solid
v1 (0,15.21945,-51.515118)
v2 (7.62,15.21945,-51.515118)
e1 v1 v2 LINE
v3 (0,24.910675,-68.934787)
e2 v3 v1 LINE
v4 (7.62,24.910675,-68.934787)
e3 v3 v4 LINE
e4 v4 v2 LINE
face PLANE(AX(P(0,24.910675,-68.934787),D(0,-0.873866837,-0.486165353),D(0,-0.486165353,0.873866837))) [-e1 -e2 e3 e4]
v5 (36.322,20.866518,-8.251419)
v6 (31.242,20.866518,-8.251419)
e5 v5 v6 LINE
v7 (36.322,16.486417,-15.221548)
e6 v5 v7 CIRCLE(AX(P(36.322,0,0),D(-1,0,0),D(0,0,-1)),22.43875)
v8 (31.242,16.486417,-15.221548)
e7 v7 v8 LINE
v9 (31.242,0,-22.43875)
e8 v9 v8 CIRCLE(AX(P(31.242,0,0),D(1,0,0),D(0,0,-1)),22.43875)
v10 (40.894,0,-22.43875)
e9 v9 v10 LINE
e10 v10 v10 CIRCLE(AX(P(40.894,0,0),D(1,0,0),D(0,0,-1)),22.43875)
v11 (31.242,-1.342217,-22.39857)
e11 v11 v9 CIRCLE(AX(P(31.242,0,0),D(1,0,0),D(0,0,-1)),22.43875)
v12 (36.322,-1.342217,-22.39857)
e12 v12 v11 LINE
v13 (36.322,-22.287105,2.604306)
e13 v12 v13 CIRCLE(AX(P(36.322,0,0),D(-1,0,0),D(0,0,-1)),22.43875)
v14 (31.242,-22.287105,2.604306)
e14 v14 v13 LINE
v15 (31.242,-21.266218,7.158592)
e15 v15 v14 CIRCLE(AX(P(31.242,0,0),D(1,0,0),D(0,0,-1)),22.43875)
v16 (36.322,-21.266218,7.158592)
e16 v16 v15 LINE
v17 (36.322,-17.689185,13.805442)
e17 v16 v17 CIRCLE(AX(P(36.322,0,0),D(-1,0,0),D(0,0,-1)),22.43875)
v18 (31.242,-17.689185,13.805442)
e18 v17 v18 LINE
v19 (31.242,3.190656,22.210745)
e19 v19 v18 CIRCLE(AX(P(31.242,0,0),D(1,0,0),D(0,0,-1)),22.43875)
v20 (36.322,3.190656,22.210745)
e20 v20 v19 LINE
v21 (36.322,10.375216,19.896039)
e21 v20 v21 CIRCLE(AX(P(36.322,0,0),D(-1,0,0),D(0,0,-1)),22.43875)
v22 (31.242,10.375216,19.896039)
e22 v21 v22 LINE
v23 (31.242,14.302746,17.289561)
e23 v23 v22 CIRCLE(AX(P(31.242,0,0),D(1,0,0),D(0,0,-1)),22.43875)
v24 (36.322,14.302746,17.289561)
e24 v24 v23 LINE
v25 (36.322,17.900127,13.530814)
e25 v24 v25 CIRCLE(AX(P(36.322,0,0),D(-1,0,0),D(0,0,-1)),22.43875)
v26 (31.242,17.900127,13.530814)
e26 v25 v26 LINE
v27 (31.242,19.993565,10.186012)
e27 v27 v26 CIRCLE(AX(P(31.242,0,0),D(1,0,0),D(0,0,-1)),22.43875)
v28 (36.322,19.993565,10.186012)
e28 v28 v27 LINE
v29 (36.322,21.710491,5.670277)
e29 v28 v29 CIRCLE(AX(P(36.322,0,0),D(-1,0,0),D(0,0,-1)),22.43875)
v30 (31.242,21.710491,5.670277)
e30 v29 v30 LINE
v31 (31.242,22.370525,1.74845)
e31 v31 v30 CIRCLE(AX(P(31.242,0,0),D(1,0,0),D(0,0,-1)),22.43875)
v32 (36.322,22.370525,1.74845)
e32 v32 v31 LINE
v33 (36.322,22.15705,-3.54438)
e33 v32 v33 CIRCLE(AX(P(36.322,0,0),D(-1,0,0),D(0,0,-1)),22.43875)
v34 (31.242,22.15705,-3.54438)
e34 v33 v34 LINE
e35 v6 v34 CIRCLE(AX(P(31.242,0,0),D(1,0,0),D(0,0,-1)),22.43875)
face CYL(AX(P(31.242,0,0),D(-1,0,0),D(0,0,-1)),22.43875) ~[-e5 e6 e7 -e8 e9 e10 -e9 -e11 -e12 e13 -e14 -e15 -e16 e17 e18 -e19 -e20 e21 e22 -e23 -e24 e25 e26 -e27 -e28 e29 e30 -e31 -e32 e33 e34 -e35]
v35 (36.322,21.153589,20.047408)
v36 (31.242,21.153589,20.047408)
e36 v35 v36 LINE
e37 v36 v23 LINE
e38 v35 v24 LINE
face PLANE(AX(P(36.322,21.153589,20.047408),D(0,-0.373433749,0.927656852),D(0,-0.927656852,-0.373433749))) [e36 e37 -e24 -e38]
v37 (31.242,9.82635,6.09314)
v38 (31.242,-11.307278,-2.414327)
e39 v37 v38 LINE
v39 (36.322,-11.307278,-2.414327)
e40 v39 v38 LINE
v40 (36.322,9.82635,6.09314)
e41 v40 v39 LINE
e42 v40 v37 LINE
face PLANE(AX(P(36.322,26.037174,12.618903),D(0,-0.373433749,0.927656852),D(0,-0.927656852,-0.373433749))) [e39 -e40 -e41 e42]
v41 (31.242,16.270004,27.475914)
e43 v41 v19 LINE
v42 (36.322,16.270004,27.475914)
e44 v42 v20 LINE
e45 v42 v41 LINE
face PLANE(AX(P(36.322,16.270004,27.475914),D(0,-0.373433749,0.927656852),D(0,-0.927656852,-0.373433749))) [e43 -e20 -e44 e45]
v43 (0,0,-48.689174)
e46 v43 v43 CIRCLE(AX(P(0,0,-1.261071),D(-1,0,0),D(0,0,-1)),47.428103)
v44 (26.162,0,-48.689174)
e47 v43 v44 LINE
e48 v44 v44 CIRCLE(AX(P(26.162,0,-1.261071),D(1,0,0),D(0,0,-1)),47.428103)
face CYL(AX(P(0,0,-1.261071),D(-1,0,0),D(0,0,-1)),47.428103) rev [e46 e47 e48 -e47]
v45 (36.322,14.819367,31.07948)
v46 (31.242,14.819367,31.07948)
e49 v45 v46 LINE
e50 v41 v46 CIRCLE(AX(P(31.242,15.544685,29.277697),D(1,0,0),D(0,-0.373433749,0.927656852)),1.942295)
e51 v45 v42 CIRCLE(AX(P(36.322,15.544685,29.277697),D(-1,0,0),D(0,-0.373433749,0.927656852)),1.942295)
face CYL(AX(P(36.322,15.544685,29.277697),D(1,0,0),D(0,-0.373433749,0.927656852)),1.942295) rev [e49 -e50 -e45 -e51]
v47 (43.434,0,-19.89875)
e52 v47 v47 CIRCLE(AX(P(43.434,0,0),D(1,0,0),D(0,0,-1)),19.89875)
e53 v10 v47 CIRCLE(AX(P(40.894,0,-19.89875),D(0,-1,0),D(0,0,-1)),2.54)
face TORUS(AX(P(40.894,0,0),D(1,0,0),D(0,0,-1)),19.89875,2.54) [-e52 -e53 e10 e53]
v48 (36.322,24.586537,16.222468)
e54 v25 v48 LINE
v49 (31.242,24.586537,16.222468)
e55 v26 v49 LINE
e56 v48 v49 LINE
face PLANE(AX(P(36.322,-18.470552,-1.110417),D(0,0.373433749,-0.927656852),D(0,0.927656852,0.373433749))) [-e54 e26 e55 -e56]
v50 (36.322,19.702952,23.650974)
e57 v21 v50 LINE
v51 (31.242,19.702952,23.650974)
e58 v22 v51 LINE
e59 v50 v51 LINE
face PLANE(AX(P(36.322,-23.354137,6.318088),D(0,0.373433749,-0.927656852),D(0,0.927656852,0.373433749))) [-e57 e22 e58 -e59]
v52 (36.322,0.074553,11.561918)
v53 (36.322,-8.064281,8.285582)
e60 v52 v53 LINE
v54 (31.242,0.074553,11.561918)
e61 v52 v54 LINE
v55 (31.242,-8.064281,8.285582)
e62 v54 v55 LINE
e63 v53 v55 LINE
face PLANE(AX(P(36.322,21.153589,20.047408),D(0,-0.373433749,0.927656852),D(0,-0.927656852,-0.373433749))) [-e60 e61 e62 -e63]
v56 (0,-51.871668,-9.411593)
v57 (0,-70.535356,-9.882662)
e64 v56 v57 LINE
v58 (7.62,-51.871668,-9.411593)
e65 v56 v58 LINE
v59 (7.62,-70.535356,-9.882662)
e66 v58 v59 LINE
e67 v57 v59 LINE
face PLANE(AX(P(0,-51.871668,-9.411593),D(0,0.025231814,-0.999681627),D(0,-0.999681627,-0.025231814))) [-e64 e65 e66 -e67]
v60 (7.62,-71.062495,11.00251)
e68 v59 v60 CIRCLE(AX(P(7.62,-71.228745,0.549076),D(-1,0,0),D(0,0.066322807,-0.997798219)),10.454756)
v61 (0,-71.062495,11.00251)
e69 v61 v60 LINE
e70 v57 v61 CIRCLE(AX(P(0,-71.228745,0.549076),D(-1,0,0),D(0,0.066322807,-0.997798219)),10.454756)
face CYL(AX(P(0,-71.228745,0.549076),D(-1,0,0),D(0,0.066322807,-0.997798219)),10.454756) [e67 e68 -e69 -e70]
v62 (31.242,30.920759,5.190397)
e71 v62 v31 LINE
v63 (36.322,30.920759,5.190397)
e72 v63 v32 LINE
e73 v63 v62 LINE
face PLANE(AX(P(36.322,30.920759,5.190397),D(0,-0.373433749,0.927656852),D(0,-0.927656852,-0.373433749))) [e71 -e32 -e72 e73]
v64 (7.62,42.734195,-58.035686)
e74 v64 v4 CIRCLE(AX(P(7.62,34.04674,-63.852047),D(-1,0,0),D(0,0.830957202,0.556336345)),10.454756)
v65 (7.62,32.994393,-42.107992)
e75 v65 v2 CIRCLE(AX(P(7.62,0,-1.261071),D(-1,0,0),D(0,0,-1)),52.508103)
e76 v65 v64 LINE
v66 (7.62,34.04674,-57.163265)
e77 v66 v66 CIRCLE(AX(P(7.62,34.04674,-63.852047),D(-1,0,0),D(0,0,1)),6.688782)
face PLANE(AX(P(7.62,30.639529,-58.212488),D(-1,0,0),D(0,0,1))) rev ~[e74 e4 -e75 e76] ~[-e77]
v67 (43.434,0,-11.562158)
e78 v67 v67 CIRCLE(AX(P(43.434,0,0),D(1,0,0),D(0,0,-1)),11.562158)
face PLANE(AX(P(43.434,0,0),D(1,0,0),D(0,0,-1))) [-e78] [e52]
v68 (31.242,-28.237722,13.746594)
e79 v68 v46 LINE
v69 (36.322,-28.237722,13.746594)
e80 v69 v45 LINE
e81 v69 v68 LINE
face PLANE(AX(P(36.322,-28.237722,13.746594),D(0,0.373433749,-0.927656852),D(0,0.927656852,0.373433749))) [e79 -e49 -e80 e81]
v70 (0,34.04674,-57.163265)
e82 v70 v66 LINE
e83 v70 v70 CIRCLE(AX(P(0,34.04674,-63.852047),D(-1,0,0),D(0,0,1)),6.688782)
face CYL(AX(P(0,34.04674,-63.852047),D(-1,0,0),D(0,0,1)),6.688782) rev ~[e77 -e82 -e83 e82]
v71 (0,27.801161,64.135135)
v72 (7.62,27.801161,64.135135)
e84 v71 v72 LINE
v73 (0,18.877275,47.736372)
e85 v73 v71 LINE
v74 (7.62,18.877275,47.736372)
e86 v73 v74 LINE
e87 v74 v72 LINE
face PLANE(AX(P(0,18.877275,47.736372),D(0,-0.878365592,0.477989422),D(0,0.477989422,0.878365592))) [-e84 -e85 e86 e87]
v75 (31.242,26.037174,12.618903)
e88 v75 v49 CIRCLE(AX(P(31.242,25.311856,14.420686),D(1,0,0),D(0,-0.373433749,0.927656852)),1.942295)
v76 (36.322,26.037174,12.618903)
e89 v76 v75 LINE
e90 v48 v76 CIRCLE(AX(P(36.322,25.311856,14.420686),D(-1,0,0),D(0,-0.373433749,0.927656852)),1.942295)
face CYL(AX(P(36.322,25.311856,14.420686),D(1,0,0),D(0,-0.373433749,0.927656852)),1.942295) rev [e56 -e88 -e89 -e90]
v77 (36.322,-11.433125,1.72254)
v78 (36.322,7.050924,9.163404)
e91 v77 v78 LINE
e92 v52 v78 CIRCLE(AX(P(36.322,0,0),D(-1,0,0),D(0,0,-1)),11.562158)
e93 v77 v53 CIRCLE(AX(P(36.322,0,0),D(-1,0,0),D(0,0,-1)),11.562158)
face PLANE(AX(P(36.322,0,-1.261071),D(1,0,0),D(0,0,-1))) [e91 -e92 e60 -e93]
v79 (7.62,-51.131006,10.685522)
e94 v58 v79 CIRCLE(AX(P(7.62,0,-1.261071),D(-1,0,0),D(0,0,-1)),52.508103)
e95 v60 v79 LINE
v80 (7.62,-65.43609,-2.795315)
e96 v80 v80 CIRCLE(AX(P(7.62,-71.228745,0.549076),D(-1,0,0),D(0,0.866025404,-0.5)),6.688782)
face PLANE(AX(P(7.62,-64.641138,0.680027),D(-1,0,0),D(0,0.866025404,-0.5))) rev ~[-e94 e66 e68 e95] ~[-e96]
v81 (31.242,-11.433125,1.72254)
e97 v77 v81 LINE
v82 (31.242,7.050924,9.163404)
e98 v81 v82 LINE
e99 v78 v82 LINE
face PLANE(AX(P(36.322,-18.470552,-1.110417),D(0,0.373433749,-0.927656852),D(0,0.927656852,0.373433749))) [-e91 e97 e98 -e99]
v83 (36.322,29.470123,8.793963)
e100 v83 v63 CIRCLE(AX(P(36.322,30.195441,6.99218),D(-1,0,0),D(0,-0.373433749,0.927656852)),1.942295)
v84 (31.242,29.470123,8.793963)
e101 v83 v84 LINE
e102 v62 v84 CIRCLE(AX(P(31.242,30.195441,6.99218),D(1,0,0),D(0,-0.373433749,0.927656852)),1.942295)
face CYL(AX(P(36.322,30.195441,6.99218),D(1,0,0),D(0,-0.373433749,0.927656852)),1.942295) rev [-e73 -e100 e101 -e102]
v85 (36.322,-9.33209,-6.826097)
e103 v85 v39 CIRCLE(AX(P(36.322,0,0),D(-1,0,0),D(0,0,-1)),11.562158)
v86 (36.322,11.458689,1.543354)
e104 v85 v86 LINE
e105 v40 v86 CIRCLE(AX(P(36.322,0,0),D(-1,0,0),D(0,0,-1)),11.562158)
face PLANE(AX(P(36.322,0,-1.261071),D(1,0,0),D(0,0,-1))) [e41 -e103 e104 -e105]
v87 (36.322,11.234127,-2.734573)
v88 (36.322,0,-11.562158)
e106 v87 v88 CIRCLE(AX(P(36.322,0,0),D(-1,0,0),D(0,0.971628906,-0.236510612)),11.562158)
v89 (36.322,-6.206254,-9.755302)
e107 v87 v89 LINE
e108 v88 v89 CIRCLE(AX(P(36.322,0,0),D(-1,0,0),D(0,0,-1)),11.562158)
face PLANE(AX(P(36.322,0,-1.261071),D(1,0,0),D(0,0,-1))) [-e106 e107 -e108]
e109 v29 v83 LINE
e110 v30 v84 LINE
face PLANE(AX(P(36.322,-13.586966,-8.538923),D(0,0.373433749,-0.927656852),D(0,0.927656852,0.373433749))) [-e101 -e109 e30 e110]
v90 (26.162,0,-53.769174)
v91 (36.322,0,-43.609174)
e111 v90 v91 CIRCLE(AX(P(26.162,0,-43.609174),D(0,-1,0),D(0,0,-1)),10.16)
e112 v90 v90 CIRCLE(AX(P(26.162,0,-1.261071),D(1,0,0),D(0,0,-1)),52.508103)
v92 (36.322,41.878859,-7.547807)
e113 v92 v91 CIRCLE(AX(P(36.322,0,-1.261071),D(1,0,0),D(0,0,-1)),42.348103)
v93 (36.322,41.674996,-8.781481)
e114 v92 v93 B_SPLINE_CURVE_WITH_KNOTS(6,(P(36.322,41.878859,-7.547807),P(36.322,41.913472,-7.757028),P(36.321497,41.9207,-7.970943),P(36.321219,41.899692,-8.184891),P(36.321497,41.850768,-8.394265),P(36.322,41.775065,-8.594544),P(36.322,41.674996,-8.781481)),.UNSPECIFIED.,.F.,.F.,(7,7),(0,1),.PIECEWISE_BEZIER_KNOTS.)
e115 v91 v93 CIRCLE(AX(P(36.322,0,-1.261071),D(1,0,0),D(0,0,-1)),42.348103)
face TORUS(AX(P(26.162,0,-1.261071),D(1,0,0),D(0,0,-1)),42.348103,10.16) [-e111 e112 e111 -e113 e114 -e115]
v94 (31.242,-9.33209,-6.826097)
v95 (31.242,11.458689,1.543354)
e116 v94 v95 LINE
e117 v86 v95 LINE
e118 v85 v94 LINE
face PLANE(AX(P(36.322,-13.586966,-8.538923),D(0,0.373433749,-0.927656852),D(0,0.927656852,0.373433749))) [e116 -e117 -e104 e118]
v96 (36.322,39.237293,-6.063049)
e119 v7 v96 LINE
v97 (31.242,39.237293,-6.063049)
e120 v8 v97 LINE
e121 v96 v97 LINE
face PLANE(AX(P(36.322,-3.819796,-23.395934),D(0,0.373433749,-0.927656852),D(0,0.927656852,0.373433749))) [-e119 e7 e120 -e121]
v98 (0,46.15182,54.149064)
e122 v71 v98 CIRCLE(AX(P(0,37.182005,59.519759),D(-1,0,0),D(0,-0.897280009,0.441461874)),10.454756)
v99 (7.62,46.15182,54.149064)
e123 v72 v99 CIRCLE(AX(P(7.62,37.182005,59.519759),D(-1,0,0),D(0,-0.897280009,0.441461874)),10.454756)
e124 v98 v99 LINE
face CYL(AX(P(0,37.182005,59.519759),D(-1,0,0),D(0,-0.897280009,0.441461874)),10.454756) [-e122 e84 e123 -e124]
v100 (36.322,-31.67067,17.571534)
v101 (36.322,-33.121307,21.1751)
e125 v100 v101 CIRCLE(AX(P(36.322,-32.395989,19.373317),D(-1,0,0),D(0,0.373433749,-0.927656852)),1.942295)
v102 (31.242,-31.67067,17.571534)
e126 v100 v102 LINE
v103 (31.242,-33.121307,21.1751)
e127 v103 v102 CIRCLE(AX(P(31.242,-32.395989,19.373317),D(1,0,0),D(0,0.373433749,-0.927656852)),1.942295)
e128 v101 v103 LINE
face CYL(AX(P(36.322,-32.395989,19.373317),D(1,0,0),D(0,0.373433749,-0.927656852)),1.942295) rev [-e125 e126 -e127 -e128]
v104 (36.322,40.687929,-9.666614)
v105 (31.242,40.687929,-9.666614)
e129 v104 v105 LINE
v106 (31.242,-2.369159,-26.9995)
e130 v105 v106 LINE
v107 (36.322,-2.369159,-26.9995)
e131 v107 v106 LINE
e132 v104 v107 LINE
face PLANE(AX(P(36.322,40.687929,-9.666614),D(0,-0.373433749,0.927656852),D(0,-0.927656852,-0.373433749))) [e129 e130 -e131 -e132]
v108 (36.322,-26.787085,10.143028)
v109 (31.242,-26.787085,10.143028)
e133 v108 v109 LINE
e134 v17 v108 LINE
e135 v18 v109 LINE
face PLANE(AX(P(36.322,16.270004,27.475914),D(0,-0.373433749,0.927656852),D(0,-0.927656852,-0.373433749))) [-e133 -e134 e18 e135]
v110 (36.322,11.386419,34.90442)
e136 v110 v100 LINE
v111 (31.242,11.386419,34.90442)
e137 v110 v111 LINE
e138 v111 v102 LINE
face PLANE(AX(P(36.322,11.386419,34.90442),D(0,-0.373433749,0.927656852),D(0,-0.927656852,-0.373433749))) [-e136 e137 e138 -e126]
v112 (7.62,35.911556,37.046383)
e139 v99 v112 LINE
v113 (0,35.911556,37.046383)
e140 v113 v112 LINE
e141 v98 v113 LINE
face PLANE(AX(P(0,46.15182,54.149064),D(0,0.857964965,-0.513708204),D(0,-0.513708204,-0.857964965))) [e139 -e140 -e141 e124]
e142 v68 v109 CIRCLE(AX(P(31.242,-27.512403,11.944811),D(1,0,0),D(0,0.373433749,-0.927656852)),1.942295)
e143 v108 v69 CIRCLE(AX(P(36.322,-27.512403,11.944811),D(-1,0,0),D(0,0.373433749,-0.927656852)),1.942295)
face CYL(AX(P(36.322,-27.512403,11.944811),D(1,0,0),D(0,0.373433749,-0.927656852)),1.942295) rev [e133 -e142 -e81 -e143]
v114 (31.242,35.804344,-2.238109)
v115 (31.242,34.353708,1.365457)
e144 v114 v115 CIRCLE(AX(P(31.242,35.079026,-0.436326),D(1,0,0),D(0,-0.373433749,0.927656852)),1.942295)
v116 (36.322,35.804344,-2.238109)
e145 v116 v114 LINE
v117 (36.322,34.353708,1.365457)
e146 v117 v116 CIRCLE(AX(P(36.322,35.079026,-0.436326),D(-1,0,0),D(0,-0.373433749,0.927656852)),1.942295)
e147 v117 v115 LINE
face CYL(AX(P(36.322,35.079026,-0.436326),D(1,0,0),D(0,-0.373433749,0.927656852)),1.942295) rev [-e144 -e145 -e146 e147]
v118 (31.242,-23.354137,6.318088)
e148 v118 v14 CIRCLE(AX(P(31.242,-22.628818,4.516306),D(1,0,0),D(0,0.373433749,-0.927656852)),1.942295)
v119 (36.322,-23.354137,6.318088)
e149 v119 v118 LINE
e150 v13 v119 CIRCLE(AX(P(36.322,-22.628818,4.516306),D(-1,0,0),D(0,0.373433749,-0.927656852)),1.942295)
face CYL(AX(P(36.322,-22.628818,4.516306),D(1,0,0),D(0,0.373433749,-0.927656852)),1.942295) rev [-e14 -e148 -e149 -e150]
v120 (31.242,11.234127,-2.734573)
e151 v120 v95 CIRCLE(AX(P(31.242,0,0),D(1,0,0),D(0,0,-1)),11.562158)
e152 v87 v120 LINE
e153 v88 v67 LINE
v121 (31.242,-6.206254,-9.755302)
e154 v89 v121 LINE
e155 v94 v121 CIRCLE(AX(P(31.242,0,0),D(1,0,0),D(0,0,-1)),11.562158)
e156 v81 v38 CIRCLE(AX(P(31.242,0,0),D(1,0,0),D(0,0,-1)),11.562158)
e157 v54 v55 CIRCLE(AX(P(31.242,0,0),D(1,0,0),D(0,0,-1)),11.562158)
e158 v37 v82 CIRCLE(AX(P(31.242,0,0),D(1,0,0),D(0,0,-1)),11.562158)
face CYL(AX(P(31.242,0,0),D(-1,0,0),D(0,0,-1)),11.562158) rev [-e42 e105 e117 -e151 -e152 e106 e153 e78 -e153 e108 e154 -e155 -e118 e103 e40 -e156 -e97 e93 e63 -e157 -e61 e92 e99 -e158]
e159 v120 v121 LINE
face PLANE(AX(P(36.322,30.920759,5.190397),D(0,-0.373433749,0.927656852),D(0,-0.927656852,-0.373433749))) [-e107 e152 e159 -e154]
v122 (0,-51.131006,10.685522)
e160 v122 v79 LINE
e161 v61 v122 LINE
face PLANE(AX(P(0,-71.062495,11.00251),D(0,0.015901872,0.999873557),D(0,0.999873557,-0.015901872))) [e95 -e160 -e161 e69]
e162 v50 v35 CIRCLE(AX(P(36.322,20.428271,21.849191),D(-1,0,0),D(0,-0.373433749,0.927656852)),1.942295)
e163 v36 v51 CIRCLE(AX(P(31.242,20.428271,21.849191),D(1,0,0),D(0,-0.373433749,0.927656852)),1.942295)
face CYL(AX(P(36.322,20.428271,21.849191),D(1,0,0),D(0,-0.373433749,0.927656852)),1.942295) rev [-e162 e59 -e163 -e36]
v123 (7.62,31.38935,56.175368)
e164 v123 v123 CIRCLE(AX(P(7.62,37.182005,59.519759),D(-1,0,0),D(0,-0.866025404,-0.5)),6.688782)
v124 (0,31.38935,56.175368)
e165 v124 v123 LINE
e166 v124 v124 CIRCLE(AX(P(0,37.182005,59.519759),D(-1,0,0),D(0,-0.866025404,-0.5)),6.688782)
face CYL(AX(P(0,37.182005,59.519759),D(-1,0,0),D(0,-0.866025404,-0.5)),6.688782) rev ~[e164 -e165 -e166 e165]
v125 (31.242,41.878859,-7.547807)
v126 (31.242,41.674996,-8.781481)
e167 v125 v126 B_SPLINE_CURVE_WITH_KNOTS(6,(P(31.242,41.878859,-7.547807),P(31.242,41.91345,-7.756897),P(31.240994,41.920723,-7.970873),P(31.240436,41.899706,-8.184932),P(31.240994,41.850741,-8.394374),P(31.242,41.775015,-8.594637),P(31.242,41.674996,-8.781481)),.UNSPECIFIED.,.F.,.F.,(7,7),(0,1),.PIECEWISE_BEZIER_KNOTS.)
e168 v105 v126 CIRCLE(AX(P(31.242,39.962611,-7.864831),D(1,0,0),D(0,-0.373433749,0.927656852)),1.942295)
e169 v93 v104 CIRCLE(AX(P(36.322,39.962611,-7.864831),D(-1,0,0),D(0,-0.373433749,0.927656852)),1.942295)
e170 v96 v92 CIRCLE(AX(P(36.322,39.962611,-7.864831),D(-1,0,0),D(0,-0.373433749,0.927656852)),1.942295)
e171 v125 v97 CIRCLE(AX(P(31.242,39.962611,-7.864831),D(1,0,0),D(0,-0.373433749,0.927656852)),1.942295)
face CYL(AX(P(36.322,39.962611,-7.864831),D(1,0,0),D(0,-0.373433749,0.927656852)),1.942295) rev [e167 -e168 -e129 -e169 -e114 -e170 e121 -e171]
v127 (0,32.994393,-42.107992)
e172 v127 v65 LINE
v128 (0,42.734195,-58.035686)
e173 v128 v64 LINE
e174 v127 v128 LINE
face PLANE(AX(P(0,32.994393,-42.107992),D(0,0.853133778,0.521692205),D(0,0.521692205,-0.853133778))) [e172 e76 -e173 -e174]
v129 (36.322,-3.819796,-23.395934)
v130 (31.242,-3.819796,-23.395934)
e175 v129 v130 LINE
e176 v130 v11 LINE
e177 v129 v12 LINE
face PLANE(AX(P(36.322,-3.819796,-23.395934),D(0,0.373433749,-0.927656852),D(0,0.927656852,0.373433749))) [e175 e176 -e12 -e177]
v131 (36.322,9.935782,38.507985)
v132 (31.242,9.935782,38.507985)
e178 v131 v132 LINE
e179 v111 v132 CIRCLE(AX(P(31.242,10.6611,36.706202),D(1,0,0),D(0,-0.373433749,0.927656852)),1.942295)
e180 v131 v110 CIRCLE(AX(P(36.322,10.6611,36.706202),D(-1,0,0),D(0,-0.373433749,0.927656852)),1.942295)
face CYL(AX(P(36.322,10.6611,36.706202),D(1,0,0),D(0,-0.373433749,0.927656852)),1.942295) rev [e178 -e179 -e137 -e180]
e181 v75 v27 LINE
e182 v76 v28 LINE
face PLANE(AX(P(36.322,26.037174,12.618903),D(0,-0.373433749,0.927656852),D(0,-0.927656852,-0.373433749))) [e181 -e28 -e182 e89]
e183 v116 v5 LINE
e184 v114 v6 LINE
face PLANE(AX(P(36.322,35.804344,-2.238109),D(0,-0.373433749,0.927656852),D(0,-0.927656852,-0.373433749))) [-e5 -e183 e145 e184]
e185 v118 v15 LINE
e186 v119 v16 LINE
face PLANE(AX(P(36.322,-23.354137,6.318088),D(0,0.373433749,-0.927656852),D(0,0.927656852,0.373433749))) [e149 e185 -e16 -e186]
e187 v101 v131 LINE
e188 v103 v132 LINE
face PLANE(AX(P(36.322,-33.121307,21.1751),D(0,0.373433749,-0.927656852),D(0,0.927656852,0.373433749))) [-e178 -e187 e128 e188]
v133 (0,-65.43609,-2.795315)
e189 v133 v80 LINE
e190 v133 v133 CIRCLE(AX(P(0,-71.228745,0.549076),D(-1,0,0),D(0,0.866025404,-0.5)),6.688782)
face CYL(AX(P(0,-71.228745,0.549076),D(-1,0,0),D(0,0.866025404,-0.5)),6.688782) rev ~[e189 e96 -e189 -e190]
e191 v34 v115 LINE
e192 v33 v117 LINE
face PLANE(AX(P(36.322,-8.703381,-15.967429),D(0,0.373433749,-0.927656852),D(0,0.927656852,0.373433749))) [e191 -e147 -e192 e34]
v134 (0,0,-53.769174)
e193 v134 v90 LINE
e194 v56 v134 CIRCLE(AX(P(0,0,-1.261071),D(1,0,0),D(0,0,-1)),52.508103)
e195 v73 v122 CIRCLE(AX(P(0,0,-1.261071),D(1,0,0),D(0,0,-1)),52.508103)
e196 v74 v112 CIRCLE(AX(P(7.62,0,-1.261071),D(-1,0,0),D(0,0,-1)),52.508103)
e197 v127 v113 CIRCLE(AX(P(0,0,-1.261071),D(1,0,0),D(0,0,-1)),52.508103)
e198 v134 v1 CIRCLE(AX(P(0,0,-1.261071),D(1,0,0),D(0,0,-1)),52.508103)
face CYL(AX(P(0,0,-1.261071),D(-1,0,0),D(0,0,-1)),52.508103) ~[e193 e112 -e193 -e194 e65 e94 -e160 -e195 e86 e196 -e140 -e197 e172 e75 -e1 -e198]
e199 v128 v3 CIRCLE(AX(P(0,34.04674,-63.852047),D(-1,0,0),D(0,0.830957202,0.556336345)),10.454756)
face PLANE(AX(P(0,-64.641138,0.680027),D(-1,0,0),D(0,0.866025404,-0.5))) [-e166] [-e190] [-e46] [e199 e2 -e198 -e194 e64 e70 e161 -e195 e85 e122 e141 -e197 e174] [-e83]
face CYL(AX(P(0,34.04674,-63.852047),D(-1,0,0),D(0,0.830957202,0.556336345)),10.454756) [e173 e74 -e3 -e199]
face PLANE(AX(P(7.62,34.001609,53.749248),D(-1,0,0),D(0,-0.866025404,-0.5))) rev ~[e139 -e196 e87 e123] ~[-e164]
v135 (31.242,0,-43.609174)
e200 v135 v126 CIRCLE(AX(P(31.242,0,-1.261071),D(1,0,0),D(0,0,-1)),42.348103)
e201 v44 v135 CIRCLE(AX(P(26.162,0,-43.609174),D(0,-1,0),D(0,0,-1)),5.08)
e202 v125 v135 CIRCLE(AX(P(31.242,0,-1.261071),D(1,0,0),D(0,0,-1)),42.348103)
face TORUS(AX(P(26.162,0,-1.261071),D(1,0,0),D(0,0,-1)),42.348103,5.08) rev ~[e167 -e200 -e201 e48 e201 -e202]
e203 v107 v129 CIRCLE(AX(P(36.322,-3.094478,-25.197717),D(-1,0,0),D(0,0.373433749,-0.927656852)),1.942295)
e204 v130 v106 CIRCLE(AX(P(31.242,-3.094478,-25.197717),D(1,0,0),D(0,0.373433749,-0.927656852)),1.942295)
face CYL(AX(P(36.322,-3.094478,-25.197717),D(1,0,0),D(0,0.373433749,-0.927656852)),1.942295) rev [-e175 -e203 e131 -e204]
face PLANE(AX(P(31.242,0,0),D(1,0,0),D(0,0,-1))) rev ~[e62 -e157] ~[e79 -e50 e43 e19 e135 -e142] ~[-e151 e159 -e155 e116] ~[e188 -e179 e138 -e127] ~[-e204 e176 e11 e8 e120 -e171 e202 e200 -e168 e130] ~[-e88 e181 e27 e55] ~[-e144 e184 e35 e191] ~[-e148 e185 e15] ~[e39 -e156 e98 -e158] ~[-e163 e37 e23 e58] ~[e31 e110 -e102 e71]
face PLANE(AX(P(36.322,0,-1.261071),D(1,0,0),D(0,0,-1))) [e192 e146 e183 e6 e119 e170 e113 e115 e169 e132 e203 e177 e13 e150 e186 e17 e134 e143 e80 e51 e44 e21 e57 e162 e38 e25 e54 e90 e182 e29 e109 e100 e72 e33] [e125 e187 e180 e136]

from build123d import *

# Parameters (mm, degrees)
SKETCH1_R                = 52.508103221
BOSS_EXTRUDE1_DEPTH      = 36.322
FILLET1_R                = 10.16
SHELL1_T                 = -5.08
CUT_EXTRUDE1_DEPTH       = 8.89
LPATTERN1_COUNT          = 7
LPATTERN1_PITCH          = 8.89
BOSS_EXTRUDE2_DEPTH      = 7.112
BOSS_EXTRUDE2_DEPTH_BACK = 5.08
SKETCH6_R                = 22.438749527
SKETCH6_R_2              = 11.562158197
FILLET2_R                = 2.54
SKETCH7_R                = 6.688781748
BOSS_EXTRUDE3_DEPTH      = 7.62
CIRPATTERN4_COUNT        = 3


with BuildPart() as part:
    # Sketch1 → Boss-Extrude1 (new body)
    with BuildSketch(Plane(origin=(0, 0, 0), x_dir=(0, 0, -1), z_dir=(1, 0, 0))):
        with Locations((1.26107084, 0)):
            Circle(SKETCH1_R)
    extrude(amount=BOSS_EXTRUDE1_DEPTH)

    # Fillet1
    fillet1_edges = [part.edges().sort_by_distance(p)[0] for p in [
        (36.322, 0, 51.247032381),
    ]]
    fillet(fillet1_edges, radius=FILLET1_R)

    # Shell1
    shell1_openings = [part.faces().sort_by_distance(p)[0] for p in [
        (0, 0, -1.26107084),
    ]]
    offset(amount=SHELL1_T, openings=shell1_openings, kind=Kind.INTERSECTION)

    # Sketch2 → Cut-Extrude1 (cut)
    with BuildSketch(Plane(origin=(36.322, 0, 0), x_dir=(0, 0, -1), z_dir=(1, 0, 0))):
        with BuildLine():
            Line((-34.904419589, 11.386418641), (-17.571533949, -31.67067029))
            ThreePointArc((-17.571533949, -31.67067029), (-18.64799848, -34.197771514), (-21.175099704, -33.121306983))
            Line((-21.175099704, -33.121306983), (-38.507985344, 9.935781948))
            ThreePointArc((-38.507985344, 9.935781948), (-37.431520813, 12.462883172), (-34.904419589, 11.386418641))
        make_face()
    cut_extrude1 = extrude(amount=-CUT_EXTRUDE1_DEPTH, mode=Mode.SUBTRACT)

    # LPattern1: Cut-Extrude1 ×7
    with Locations(*[Vector(0, 0.5493346615269119, -0.8356024351598751) * (i * LPATTERN1_PITCH) for i in range(1, LPATTERN1_COUNT)]):
        add(cut_extrude1, mode=Mode.SUBTRACT)

    # Sketch6 → Boss-Extrude2 (add, two sides: drawn at the far end of the back side and taken through both)
    with BuildSketch(Plane(origin=(36.322, 0, 0), x_dir=(0, 0, -1), z_dir=(1, 0, 0)).offset(-BOSS_EXTRUDE2_DEPTH_BACK)):
        Circle(SKETCH6_R)
        Circle(SKETCH6_R_2, mode=Mode.SUBTRACT)
    extrude(amount=BOSS_EXTRUDE2_DEPTH + BOSS_EXTRUDE2_DEPTH_BACK)

    # Fillet2
    fillet2_edges = [part.edges().sort_by_distance(p)[0] for p in [
        (43.434, 0, 22.438749527),
    ]]
    fillet(fillet2_edges, radius=FILLET2_R)

    # Sketch7 → Boss-Extrude3 (add)
    with BuildSketch(Plane.ZY):
        with BuildLine():
            Line((-68.934787108, 24.910674724), (-51.515117818, 15.21945026))
            Line((-51.515117818, 15.21945026), (-42.107991595, 32.994392988))
            Line((-42.107991595, 32.994392988), (-58.035685788, 42.734194788))
            ThreePointArc((-58.035685788, 42.734194788), (-72.771352602, 39.50090458), (-68.934787108, 24.910674724))
        make_face()
        with Locations((-63.852046762, 34.04673965)):
            Circle(SKETCH7_R, mode=Mode.SUBTRACT)
    boss_extrude3 = extrude(amount=-BOSS_EXTRUDE3_DEPTH)

    # CirPattern4: Boss-Extrude3 ×3 about axis
    cirpattern4_axis = Axis((0, 0, -1.26107084), (1, 0, 0))
    for i in range(1, CIRPATTERN4_COUNT):
        add(boss_extrude3.rotate(cirpattern4_axis, i * 360 / CIRPATTERN4_COUNT))


solid = part.part
